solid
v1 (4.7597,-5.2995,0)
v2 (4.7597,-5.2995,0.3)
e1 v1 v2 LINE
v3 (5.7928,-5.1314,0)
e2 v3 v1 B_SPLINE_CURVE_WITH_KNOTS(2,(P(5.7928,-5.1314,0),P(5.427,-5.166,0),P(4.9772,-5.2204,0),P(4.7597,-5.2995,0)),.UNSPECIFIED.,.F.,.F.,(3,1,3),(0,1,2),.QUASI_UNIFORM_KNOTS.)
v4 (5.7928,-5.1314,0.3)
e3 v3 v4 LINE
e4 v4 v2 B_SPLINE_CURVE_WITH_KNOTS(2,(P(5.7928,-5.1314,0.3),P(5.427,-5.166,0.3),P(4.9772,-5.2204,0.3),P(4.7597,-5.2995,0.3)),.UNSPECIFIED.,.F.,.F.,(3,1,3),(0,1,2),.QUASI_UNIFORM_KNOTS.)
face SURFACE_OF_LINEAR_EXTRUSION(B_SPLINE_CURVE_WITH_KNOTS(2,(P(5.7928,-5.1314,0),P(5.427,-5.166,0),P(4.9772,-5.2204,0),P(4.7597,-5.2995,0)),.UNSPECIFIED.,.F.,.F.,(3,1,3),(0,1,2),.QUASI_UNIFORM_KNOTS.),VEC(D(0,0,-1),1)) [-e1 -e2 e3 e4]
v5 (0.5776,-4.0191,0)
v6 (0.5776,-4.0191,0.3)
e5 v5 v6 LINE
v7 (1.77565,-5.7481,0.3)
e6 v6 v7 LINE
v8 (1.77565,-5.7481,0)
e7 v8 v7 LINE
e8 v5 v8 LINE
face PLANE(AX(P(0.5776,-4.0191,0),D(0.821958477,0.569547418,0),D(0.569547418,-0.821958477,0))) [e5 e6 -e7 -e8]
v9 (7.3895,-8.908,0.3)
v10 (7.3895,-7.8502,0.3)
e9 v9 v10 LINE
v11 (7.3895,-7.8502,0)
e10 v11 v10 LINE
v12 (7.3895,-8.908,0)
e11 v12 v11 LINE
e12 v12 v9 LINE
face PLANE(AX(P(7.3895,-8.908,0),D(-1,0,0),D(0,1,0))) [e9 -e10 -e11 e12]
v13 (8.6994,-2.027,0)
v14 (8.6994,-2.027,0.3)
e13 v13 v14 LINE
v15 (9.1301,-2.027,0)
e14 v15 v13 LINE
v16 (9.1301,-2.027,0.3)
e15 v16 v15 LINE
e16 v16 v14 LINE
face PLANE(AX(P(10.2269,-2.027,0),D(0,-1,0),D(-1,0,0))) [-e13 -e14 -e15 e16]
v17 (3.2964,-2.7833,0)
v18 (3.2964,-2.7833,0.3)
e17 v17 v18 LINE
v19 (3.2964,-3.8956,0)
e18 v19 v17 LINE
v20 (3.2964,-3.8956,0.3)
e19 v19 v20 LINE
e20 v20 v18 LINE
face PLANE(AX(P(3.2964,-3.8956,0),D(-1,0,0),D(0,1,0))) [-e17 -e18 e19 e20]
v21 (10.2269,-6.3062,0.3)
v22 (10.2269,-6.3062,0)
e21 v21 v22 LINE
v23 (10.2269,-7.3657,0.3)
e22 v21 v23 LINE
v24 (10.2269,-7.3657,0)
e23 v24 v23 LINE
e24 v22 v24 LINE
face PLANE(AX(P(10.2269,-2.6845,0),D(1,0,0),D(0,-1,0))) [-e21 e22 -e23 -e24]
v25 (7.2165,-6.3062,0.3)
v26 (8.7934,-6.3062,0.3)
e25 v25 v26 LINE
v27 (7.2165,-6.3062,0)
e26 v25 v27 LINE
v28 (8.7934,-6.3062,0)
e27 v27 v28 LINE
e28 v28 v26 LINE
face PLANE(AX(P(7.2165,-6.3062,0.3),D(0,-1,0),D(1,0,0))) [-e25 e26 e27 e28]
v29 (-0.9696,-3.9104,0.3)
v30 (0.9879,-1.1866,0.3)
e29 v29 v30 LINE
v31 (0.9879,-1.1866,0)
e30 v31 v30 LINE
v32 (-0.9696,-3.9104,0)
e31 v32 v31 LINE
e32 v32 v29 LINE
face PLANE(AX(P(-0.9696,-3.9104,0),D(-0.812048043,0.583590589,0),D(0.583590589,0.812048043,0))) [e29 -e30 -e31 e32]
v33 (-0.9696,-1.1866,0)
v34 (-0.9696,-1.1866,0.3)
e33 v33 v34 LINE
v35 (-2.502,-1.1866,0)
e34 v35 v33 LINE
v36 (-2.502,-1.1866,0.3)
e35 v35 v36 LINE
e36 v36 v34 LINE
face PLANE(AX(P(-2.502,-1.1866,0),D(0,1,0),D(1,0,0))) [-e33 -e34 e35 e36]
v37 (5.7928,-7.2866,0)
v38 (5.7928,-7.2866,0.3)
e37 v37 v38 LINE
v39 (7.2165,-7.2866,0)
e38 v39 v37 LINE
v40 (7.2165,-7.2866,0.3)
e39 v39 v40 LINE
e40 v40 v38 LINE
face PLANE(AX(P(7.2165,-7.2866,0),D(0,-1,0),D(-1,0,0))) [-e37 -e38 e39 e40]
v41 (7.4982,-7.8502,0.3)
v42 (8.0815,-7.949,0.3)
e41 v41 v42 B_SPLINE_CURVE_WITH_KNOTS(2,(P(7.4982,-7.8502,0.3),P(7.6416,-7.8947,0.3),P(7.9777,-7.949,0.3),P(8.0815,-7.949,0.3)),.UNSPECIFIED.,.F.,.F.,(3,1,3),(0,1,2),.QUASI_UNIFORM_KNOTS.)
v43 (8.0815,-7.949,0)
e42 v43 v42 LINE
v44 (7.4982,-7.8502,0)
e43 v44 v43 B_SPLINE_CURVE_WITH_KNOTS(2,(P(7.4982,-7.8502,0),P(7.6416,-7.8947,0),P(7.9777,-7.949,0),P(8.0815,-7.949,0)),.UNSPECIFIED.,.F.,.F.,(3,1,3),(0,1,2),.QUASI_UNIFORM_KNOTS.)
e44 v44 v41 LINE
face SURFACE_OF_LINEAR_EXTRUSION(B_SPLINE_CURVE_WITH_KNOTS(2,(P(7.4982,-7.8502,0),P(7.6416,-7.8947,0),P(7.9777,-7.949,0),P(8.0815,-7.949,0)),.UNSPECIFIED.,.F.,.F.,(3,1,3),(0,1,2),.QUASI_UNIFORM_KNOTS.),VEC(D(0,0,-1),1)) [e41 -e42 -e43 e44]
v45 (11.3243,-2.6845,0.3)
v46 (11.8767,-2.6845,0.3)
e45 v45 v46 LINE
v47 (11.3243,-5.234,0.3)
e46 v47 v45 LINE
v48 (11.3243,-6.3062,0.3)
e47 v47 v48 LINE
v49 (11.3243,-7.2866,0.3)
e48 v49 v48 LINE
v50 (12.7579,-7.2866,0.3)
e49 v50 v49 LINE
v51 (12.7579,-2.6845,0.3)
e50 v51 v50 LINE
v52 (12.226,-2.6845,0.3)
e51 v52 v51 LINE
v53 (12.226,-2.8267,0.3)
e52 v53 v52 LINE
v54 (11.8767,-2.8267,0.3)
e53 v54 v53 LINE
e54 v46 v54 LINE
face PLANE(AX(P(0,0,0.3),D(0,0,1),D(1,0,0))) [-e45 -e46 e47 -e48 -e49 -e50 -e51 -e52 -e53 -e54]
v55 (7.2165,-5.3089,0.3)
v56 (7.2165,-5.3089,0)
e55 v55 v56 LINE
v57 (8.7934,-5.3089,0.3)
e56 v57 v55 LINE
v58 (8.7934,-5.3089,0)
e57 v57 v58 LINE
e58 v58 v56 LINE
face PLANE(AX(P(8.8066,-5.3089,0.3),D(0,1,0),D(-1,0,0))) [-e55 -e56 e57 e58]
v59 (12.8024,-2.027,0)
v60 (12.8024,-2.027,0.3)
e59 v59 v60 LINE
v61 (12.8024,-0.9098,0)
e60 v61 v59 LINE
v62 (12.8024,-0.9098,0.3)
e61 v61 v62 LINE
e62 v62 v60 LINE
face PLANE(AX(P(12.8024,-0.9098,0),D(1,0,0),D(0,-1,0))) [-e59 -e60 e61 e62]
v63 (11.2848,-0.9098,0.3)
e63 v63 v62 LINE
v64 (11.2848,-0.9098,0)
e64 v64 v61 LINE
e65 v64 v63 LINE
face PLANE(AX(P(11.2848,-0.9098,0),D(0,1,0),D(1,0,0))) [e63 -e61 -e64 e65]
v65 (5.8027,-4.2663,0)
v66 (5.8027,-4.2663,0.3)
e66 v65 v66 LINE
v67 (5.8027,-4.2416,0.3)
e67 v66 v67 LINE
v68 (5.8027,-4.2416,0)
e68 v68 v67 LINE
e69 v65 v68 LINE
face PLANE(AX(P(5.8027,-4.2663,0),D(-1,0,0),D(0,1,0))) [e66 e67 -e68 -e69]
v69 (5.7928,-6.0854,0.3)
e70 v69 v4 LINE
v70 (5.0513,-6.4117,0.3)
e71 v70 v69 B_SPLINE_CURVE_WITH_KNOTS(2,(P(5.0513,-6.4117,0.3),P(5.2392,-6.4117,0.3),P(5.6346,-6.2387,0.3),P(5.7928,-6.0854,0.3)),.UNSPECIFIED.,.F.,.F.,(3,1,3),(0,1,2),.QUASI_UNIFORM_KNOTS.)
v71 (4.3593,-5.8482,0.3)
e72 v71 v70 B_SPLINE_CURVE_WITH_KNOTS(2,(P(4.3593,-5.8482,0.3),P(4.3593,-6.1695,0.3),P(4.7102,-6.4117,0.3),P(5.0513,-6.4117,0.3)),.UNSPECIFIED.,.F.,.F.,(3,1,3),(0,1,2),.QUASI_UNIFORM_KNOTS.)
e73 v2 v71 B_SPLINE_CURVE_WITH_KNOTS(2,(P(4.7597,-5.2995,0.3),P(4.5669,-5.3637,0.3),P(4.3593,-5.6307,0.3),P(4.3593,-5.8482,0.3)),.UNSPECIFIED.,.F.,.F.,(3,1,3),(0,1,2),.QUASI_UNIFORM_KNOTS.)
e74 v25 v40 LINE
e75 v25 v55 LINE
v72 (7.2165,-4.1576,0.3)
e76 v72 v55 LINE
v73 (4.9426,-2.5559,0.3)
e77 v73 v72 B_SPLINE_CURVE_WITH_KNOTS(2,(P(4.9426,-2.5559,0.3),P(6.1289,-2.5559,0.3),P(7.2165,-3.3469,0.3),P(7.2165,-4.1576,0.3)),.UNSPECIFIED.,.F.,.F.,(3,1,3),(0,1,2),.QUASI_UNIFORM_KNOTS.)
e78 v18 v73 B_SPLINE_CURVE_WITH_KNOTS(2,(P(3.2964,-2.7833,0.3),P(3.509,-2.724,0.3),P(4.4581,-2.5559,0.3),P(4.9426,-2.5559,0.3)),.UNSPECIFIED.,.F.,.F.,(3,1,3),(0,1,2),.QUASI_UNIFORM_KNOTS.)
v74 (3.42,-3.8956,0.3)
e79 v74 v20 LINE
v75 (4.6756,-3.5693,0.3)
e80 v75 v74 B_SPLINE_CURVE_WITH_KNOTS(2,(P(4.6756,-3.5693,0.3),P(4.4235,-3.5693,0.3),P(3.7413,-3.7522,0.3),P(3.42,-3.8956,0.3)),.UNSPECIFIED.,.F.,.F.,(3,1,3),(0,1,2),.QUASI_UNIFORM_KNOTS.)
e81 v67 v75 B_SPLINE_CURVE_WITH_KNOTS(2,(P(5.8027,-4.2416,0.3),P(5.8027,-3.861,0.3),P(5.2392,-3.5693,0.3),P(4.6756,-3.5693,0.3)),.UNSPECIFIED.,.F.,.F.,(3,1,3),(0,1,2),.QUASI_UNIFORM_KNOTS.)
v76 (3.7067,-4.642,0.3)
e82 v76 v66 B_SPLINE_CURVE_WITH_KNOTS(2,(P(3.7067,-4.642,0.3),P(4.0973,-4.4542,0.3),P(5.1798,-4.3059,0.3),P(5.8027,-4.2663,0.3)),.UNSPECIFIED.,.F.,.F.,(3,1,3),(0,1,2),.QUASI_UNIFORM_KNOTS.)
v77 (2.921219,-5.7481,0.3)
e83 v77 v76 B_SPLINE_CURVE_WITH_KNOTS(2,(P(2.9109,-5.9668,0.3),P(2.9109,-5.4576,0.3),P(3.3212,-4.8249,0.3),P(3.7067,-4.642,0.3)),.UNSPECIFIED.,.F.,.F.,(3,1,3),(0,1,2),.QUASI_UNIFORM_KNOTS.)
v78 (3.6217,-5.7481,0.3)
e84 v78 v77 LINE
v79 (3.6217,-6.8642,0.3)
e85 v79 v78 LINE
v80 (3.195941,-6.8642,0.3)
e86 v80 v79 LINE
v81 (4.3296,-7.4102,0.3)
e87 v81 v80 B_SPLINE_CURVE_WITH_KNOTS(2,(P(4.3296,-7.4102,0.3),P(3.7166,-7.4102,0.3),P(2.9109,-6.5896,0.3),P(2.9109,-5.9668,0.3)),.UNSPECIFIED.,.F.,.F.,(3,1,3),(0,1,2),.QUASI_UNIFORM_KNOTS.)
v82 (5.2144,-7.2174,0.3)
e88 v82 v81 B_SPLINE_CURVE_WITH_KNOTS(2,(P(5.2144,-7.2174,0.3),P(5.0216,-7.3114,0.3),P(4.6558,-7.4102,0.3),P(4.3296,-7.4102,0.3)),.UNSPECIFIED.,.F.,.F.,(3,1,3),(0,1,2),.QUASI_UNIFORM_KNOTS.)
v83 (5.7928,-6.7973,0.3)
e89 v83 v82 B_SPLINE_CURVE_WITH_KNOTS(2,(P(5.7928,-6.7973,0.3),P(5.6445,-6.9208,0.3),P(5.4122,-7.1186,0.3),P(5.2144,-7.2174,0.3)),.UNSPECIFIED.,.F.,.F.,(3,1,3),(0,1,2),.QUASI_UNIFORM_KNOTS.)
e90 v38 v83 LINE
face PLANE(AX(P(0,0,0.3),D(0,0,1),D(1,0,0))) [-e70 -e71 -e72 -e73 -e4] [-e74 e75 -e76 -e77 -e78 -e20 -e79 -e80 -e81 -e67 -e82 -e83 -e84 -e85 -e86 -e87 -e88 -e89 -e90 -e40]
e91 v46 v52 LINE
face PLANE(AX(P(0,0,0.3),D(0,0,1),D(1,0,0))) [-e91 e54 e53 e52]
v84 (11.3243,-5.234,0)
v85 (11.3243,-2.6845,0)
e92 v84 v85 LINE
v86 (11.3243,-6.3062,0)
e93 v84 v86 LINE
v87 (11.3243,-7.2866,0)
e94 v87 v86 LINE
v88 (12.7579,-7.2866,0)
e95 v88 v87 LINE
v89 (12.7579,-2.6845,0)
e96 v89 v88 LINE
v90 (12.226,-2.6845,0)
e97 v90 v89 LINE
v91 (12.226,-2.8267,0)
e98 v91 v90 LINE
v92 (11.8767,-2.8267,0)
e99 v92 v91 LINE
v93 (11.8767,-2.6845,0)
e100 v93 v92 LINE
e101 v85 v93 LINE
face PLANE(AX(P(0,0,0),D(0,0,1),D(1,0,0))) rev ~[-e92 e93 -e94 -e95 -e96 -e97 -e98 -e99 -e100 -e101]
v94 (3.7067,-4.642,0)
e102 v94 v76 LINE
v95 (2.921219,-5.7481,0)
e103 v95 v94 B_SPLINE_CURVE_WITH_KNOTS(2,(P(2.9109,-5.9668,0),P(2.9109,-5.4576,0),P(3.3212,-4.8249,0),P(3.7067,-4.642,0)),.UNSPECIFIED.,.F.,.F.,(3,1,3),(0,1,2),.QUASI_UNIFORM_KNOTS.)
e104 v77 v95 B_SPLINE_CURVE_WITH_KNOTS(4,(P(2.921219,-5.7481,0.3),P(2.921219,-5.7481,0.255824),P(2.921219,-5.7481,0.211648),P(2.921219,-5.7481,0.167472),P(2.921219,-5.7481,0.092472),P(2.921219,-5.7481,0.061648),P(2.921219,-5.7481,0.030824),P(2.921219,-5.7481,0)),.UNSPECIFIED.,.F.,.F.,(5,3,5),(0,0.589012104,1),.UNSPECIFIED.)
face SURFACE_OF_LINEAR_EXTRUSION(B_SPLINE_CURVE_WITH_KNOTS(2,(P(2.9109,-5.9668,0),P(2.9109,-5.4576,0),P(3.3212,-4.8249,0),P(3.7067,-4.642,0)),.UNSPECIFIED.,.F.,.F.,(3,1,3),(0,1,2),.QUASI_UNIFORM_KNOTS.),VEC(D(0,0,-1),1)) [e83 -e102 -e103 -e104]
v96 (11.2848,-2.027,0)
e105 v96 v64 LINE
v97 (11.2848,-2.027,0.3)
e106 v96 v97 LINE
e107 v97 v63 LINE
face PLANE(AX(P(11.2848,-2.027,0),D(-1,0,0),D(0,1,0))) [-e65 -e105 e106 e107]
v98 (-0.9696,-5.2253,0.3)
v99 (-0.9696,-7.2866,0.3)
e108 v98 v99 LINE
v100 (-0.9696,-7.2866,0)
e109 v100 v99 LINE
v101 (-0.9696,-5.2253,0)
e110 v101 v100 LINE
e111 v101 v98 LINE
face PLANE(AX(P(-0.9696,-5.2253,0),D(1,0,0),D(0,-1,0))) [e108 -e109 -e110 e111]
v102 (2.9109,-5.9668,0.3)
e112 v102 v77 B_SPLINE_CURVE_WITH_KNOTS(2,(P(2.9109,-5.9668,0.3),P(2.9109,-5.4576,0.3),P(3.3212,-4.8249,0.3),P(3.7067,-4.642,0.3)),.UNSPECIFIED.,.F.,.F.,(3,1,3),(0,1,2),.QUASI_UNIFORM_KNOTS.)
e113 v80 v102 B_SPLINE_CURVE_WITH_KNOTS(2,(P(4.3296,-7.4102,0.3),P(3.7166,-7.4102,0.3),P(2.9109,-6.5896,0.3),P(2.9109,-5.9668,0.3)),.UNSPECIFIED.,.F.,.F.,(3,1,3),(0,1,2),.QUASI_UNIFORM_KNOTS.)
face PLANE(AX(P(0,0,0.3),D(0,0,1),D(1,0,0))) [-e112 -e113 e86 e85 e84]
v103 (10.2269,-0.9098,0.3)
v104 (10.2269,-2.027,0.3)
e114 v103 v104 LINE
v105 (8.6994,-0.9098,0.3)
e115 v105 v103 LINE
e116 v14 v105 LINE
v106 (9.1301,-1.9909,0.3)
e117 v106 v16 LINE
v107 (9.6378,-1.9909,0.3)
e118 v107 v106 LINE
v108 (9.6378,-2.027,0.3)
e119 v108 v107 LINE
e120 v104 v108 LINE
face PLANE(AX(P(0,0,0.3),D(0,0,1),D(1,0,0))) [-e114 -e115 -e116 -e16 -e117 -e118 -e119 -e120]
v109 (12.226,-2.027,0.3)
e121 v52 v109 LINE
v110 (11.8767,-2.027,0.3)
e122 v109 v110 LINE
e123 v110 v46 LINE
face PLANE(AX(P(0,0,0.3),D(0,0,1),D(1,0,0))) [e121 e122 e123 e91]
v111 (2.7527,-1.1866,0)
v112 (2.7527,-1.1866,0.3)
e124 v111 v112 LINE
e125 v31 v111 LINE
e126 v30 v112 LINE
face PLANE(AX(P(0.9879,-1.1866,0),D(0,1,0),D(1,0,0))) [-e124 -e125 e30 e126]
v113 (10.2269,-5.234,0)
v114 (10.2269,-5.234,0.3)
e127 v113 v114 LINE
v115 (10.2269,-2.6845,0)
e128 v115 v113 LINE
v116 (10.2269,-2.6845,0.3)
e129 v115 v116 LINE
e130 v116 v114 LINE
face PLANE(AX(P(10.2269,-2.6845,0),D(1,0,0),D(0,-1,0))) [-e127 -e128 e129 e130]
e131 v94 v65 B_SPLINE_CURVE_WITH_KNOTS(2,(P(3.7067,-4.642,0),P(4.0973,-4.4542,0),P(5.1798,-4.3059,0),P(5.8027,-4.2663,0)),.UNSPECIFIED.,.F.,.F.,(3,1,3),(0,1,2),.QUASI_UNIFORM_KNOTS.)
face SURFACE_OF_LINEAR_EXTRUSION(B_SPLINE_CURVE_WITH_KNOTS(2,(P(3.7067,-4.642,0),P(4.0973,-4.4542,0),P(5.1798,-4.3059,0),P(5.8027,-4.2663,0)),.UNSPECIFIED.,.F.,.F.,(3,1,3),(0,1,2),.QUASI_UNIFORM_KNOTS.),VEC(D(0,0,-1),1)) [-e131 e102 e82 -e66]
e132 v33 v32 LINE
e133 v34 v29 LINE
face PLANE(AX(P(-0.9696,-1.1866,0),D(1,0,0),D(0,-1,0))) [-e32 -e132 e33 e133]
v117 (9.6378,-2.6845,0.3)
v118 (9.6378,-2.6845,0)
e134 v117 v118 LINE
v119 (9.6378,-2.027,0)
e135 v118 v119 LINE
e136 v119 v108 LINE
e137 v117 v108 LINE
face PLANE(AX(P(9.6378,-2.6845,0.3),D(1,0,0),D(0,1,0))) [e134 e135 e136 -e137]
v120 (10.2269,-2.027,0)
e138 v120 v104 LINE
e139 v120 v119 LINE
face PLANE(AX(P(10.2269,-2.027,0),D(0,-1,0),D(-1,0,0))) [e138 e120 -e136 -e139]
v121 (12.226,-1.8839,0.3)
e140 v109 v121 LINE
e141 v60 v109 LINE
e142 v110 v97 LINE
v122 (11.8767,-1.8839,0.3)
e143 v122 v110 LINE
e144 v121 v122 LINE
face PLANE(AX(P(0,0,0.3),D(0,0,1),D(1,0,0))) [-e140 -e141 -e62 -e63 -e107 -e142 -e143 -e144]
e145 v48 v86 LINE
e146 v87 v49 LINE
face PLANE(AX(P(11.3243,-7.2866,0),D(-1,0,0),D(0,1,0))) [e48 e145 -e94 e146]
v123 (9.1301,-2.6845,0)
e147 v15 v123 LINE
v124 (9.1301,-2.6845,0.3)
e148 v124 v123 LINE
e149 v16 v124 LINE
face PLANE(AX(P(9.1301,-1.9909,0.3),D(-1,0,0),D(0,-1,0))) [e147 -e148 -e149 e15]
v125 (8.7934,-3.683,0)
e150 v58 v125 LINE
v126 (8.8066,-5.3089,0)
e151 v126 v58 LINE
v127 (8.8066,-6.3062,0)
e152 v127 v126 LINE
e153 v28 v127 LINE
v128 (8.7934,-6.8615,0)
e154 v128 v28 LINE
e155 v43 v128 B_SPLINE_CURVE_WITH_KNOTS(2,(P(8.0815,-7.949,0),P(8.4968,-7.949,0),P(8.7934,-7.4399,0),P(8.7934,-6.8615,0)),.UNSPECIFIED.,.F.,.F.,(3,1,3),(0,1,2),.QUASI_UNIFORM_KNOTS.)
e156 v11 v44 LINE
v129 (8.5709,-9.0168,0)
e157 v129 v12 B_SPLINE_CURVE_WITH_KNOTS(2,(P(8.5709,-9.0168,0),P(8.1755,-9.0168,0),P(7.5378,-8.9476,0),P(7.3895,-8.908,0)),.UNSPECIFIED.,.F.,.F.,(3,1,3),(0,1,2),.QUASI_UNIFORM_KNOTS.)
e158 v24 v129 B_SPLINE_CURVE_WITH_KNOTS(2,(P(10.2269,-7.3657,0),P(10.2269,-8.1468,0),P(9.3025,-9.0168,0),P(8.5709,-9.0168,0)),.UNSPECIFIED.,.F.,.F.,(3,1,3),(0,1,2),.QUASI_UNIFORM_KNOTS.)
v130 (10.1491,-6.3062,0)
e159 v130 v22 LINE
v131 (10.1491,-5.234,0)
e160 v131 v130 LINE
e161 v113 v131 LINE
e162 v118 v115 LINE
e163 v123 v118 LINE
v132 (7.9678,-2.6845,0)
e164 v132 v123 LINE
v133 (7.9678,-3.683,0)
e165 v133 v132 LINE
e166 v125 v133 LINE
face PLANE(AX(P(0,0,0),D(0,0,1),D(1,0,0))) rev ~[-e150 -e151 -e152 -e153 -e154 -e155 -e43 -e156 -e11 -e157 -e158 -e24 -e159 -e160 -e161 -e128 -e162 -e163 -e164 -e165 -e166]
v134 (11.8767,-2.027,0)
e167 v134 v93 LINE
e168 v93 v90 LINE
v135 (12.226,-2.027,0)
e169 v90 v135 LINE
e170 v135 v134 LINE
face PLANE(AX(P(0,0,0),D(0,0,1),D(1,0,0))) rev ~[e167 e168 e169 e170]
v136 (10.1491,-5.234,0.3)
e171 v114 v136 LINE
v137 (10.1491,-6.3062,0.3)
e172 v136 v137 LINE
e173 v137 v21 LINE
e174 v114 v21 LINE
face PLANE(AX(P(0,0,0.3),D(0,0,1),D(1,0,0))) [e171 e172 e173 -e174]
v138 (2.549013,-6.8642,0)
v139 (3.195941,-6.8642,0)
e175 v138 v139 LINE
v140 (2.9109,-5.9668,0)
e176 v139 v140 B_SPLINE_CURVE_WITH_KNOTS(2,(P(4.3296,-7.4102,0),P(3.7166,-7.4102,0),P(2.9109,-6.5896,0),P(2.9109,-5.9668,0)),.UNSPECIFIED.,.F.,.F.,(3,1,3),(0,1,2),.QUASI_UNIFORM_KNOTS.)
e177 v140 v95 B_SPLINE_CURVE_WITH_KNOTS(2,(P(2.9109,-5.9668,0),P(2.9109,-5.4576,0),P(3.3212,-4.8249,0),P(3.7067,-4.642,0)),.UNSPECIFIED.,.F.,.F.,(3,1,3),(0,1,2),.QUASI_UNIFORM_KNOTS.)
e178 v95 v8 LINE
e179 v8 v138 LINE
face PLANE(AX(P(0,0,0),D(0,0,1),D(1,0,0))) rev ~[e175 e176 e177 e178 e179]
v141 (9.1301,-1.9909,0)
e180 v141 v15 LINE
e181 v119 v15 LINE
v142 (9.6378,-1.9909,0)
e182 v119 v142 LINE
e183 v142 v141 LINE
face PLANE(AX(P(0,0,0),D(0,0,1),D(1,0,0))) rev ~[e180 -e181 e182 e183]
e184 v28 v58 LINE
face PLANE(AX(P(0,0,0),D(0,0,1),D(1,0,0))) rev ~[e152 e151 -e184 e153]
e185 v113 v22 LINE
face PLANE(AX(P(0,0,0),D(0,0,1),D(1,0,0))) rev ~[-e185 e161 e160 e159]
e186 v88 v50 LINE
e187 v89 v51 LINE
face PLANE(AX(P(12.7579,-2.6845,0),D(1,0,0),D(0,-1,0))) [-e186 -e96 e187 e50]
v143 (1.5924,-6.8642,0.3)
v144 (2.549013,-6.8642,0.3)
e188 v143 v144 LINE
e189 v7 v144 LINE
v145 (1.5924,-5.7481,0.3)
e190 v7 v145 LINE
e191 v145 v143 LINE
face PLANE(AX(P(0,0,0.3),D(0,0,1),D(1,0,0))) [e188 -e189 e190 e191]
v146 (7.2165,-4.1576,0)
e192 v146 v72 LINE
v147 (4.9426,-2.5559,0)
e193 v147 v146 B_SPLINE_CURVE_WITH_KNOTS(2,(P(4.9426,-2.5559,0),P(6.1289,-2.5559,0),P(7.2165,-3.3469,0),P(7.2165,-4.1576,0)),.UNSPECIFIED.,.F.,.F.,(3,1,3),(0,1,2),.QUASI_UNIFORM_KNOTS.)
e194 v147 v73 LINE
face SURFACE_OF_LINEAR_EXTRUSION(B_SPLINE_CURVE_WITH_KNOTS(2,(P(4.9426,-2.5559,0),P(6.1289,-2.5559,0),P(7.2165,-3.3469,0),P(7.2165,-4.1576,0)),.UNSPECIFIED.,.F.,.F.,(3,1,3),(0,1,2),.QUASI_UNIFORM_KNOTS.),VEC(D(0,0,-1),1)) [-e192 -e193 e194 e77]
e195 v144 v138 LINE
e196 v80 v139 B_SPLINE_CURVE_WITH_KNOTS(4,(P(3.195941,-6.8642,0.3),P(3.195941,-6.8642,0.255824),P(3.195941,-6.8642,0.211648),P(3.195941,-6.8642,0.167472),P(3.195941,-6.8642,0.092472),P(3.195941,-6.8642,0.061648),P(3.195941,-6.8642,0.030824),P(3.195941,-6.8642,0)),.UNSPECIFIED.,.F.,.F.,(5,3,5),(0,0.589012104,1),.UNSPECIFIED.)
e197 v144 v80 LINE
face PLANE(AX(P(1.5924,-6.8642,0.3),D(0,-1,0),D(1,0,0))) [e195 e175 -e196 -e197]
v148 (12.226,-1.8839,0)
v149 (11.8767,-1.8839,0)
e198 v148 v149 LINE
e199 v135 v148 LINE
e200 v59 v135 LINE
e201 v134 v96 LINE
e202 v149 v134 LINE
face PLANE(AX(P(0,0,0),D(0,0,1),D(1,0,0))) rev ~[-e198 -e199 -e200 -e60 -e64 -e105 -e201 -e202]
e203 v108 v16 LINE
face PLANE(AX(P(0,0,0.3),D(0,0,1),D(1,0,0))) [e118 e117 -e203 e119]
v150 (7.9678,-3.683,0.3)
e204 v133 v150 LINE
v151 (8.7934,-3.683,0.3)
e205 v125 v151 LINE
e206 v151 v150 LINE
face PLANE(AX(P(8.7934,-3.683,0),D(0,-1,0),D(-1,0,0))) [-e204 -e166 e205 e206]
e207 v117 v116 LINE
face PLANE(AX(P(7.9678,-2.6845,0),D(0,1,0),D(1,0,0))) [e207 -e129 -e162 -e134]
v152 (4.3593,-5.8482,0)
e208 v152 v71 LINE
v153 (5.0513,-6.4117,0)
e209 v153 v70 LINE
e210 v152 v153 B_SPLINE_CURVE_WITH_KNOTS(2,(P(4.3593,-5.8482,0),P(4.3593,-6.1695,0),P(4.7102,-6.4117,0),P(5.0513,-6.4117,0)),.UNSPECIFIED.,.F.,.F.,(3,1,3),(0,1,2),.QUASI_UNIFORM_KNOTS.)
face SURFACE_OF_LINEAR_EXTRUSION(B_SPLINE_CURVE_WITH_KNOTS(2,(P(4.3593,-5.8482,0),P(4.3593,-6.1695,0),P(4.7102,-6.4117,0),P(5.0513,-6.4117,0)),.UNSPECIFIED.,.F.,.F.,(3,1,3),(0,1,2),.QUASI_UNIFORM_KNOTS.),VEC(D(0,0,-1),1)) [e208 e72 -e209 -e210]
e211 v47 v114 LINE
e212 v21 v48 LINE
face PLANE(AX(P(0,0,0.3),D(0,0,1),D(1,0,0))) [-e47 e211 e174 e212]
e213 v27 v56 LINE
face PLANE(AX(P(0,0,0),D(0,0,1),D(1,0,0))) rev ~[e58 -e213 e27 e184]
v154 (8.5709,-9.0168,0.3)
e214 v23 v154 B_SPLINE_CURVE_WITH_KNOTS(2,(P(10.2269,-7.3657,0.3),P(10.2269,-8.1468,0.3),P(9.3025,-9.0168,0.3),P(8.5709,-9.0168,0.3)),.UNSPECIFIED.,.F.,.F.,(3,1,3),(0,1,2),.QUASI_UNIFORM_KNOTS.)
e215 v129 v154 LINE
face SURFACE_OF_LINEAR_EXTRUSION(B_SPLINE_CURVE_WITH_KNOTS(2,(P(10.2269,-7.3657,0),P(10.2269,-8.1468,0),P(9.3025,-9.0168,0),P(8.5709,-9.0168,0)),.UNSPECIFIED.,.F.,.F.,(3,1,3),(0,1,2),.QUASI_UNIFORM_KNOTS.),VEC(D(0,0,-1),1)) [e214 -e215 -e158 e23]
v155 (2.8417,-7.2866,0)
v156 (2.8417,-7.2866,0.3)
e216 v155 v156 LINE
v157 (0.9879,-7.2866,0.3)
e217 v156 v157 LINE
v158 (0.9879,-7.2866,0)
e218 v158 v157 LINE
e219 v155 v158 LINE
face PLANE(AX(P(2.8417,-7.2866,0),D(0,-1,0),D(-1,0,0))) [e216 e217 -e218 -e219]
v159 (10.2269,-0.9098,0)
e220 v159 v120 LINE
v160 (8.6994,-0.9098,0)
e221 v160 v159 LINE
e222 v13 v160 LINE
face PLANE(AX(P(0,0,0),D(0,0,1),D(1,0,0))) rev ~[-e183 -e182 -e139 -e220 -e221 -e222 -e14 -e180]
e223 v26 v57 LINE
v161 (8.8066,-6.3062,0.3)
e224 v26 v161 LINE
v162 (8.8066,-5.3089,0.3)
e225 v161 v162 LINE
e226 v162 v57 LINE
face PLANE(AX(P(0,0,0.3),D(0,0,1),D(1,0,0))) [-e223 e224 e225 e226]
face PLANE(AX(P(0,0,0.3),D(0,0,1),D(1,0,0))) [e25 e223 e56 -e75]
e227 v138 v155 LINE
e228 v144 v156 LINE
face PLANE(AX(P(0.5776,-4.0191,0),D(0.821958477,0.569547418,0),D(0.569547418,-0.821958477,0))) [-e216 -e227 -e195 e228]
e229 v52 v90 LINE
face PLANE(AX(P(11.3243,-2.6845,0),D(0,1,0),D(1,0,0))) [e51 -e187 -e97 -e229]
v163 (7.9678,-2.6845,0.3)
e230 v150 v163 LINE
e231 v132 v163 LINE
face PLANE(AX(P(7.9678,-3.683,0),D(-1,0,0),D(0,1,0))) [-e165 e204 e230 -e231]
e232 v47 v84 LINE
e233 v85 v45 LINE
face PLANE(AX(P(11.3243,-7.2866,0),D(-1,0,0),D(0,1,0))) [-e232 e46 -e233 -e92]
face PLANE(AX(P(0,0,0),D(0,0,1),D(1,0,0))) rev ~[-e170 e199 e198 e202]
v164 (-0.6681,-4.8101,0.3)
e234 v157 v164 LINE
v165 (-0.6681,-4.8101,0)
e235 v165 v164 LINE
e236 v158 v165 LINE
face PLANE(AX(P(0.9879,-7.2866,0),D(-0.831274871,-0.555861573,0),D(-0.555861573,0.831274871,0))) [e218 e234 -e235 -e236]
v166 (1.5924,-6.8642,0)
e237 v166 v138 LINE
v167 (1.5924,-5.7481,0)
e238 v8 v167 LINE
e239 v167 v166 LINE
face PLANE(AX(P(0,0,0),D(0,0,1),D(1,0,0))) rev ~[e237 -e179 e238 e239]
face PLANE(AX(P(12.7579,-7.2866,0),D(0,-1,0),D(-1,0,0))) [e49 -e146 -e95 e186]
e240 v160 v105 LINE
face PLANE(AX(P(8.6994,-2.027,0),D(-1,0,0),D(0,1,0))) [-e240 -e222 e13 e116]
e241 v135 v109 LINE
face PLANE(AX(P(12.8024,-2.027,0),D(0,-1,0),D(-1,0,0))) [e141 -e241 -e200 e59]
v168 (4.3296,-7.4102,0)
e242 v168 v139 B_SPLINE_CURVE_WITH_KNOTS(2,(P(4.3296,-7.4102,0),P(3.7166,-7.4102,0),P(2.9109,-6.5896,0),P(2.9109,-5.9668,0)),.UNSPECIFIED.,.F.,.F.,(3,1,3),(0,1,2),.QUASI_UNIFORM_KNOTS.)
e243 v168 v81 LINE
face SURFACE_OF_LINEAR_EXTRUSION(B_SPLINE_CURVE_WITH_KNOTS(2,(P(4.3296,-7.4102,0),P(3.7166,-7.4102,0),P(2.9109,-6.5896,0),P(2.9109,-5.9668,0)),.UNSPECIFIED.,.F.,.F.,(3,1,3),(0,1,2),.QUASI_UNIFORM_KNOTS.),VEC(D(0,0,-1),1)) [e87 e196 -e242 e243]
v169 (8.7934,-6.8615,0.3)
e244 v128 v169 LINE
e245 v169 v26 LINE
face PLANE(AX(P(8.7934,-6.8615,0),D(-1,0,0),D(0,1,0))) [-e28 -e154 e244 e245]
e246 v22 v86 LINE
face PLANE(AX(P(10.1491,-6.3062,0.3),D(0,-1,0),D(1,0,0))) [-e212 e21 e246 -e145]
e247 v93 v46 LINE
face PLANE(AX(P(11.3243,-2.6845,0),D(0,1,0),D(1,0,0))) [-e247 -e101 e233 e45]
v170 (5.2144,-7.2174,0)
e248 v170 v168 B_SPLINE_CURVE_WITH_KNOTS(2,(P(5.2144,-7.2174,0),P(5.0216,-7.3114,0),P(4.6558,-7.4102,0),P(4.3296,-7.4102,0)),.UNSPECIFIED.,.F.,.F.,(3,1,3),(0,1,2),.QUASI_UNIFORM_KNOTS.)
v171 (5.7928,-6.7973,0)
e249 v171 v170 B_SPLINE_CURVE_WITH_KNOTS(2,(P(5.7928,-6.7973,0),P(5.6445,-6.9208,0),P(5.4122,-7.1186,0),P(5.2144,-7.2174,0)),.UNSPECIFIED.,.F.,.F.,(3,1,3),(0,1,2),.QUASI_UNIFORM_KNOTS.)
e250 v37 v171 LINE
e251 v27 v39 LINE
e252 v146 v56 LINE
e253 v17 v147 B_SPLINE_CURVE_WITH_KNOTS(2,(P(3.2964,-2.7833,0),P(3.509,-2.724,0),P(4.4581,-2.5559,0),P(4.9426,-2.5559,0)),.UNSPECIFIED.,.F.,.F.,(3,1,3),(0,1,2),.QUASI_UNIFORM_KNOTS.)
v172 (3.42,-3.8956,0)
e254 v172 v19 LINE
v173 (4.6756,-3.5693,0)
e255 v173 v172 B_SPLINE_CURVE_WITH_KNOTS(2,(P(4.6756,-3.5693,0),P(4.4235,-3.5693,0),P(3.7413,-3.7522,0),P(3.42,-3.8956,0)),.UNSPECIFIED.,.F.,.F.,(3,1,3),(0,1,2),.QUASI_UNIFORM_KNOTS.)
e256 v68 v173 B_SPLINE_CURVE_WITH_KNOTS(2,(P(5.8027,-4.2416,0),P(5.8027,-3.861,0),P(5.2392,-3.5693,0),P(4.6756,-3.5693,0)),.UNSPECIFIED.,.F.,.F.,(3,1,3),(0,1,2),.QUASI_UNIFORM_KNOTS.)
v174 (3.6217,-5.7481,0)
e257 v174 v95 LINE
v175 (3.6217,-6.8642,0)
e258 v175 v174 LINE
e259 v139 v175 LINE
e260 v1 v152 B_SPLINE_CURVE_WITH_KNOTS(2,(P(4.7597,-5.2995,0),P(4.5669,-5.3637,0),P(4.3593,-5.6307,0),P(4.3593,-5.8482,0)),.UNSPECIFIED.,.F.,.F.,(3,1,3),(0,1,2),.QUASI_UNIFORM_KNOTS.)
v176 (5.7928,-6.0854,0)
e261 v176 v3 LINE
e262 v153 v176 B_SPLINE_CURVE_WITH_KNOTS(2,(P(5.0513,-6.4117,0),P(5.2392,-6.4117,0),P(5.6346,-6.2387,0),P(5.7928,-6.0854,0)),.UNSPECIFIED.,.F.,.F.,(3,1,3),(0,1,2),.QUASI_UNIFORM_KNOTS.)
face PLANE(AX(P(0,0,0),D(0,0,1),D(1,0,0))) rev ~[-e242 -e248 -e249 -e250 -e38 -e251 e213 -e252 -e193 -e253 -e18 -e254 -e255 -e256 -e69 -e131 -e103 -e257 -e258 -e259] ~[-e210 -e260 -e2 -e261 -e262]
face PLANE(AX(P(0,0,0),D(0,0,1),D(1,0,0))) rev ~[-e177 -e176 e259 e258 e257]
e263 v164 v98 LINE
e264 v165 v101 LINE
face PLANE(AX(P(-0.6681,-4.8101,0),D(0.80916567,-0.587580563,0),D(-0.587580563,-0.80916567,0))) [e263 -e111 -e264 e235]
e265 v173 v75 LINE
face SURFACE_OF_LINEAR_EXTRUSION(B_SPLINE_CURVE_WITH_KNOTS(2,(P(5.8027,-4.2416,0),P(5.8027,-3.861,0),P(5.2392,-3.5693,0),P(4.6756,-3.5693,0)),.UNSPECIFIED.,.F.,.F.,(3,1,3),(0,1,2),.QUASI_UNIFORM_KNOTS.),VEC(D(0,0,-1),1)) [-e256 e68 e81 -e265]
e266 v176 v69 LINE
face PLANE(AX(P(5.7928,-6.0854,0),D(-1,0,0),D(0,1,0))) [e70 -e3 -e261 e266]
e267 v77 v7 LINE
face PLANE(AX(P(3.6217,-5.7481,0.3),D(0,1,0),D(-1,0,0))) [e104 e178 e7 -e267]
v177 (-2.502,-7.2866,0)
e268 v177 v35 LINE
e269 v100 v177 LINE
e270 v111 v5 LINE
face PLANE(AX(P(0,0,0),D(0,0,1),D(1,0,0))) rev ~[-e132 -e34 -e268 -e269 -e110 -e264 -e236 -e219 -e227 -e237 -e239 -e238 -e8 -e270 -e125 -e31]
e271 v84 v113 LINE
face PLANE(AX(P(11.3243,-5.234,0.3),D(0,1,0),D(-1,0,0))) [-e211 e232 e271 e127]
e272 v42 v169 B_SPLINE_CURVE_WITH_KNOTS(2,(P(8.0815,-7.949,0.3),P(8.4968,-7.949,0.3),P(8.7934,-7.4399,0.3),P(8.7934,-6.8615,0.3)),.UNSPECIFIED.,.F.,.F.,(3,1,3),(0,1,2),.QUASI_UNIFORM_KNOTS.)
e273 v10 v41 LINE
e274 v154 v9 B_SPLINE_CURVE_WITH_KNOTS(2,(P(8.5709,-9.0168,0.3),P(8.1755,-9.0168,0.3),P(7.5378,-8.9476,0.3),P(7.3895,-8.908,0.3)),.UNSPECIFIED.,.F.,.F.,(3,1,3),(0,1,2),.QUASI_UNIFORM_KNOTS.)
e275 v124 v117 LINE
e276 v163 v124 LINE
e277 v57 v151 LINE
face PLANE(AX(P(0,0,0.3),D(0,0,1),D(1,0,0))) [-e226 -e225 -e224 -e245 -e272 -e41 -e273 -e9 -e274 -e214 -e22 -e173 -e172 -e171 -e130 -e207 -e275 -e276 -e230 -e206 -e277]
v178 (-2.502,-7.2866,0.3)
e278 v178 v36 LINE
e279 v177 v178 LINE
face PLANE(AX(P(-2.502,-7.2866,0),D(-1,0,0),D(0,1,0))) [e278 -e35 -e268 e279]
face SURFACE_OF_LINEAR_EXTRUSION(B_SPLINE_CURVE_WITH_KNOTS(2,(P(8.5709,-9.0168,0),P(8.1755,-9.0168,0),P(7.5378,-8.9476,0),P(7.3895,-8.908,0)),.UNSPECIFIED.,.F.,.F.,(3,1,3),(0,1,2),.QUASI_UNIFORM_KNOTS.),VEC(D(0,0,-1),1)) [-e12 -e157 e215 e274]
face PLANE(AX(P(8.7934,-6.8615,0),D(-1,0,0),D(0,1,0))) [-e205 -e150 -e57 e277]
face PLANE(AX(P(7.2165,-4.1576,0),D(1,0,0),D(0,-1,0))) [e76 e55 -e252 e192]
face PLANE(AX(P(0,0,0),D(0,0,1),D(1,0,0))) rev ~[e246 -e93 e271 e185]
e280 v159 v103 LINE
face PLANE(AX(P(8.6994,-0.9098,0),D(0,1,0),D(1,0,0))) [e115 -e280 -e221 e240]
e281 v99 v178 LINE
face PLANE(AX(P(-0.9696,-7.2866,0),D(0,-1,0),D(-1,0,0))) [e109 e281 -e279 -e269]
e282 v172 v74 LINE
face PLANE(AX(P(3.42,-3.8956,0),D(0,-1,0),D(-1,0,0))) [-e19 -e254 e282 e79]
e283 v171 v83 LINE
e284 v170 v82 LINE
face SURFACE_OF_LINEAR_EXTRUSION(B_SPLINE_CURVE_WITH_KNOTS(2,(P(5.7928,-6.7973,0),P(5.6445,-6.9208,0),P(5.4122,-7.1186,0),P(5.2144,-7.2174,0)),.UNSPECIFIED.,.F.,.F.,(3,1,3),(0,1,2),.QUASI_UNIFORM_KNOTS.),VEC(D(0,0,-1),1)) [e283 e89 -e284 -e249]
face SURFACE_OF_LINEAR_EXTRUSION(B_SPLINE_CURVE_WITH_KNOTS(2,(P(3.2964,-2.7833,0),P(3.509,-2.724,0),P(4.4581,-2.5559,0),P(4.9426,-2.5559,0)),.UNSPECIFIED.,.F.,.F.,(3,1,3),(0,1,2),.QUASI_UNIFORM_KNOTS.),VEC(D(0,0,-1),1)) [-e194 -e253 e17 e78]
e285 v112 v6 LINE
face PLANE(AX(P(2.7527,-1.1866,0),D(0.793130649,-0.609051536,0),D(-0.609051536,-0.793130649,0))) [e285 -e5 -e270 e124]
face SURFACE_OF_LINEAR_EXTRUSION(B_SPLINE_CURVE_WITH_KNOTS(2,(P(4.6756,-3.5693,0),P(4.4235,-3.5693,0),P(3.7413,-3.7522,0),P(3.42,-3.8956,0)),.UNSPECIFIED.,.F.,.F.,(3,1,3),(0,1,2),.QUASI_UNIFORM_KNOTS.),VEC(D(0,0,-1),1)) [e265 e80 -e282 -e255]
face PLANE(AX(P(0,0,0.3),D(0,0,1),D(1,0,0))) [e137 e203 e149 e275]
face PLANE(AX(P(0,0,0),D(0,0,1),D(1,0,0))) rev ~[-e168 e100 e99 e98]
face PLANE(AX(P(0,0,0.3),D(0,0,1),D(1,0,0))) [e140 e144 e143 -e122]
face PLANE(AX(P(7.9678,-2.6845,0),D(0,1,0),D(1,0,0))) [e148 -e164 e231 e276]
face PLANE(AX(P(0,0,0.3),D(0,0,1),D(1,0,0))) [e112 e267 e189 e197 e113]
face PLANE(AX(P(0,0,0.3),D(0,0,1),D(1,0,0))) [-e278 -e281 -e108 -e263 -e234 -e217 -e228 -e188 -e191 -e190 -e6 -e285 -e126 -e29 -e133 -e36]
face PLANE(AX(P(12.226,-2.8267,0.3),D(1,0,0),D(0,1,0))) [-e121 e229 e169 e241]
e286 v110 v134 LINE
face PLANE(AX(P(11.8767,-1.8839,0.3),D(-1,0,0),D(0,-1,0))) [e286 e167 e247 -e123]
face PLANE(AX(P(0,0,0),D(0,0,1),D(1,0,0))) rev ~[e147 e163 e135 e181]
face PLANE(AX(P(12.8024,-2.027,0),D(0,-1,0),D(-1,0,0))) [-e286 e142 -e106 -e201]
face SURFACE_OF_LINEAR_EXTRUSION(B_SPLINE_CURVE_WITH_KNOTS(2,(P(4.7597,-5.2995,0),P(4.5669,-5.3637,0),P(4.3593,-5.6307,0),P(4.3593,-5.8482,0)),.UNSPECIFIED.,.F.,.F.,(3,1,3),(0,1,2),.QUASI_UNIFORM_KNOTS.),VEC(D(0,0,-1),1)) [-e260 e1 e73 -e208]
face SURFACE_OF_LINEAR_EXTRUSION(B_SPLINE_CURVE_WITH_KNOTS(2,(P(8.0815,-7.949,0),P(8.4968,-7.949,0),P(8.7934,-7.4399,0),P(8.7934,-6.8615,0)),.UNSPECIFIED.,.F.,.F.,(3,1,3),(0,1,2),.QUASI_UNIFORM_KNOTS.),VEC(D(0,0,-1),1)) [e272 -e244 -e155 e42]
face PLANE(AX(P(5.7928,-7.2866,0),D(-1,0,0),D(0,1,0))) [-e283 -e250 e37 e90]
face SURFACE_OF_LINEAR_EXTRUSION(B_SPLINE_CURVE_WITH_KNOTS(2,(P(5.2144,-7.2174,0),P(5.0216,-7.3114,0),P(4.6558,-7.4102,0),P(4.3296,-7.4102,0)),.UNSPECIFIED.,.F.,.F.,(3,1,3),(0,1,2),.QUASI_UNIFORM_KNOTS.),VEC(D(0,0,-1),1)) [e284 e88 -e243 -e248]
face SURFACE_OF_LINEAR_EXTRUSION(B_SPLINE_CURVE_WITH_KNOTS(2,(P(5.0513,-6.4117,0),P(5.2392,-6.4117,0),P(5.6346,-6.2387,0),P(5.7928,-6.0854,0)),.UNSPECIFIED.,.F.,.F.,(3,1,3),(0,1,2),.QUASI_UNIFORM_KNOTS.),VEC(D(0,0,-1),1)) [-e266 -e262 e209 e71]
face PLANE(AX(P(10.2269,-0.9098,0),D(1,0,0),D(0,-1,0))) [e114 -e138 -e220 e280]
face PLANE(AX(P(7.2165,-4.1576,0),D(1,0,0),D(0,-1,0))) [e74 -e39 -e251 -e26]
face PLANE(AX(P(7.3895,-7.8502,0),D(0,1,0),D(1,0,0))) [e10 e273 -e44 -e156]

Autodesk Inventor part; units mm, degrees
ref_plane "YZ Plane" through (0, 0, 0) normal (1, 0, 0) x (0, 1, 0)
ref_plane "XZ Plane" through (0, 0, 0) normal (0, 1, 0) x (-1, 0, 0)
sketch "スケッチ1" plane through (0, 0, 0) normal (0, 0, 1) x (1, 0, 0)
  line L0 (-3.1348, -0.9098) -> (10.2725, -0.9098) construction
  line L1 (10.2725, -0.9098) -> (10.2725, -4.9582) construction
  line L2 (10.2725, -4.9582) -> (-3.1348, -4.9582) construction
  line L3 (-3.1348, -4.9582) -> (-3.1348, -0.9098) construction
  line L4 (2.8417, -7.2866) -> (0.9879, -7.2866)
  line L5 (0.9879, -7.2866) -> (-0.6681, -4.8101)
  line L6 (-0.6681, -4.8101) -> (-0.9696, -5.2253)
  line L7 (-0.9696, -5.2253) -> (-0.9696, -7.2866)
  line L8 (-0.9696, -7.2866) -> (-2.502, -7.2866)
  line L9 (-2.502, -7.2866) -> (-2.502, -1.1866)
  line L10 (-2.502, -1.1866) -> (-0.9696, -1.1866)
  line L11 (-0.9696, -1.1866) -> (-0.9696, -3.9104)
  line L12 (-0.9696, -3.9104) -> (0.9879, -1.1866)
  line L13 (0.9879, -1.1866) -> (2.7527, -1.1866)
  line L14 (2.7527, -1.1866) -> (0.5776, -4.0191)
  line L15 (0.5776, -4.0191) -> (2.8417, -7.2866)
  spline S0 degree 2 poles (5.7928, -6.7973) (5.6445, -6.9208) (5.4122, -7.1186) (5.2144, -7.2174) knots 0 0 0 1 2 2 2
  spline S1 degree 2 poles (5.2144, -7.2174) (5.0216, -7.3114) (4.6558, -7.4102) (4.3296, -7.4102) knots 0 0 0 1 2 2 2
  spline S2 degree 2 poles (4.3296, -7.4102) (3.7166, -7.4102) (2.9109, -6.5896) (2.9109, -5.9668) knots 0 0 0 1 2 2 2
  spline S3 degree 2 poles (2.9109, -5.9668) (2.9109, -5.4576) (3.3212, -4.8249) (3.7067, -4.642) knots 0 0 0 1 2 2 2
  spline S4 degree 2 poles (3.7067, -4.642) (4.0973, -4.4542) (5.1798, -4.3059) (5.8027, -4.2663) knots 0 0 0 1 2 2 2
  line L16 (5.8027, -4.2663) -> (5.8027, -4.2416)
  spline S5 degree 2 poles (5.8027, -4.2416) (5.8027, -3.861) (5.2392, -3.5693) (4.6756, -3.5693) knots 0 0 0 1 2 2 2
  spline S6 degree 2 poles (4.6756, -3.5693) (4.4235, -3.5693) (3.7413, -3.7522) (3.42, -3.8956) knots 0 0 0 1 2 2 2
  line L17 (3.42, -3.8956) -> (3.2964, -3.8956)
  line L18 (3.2964, -3.8956) -> (3.2964, -2.7833)
  spline S7 degree 2 poles (3.2964, -2.7833) (3.509, -2.724) (4.4581, -2.5559) (4.9426, -2.5559) knots 0 0 0 1 2 2 2
  spline S8 degree 2 poles (4.9426, -2.5559) (6.1289, -2.5559) (7.2165, -3.3469) (7.2165, -4.1576) knots 0 0 0 1 2 2 2
  line L19 (7.2165, -4.1576) -> (7.2165, -7.2866)
  line L20 (7.2165, -7.2866) -> (5.7928, -7.2866)
  line L21 (5.7928, -7.2866) -> (5.7928, -6.7973)
  line L22 (5.7928, -6.0854) -> (5.7928, -5.1314)
  spline S9 degree 2 poles (5.7928, -5.1314) (5.427, -5.166) (4.9772, -5.2204) (4.7597, -5.2995) knots 0 0 0 1 2 2 2
  spline S10 degree 2 poles (4.7597, -5.2995) (4.5669, -5.3637) (4.3593, -5.6307) (4.3593, -5.8482) knots 0 0 0 1 2 2 2
  spline S11 degree 2 poles (4.3593, -5.8482) (4.3593, -6.1695) (4.7102, -6.4117) (5.0513, -6.4117) knots 0 0 0 1 2 2 2
  spline S12 degree 2 poles (5.0513, -6.4117) (5.2392, -6.4117) (5.6346, -6.2387) (5.7928, -6.0854) knots 0 0 0 1 2 2 2
  spline S13 degree 2 poles (10.2269, -7.3657) (10.2269, -8.1468) (9.3025, -9.0168) (8.5709, -9.0168) knots 0 0 0 1 2 2 2
  spline S14 degree 2 poles (8.5709, -9.0168) (8.1755, -9.0168) (7.5378, -8.9476) (7.3895, -8.908) knots 0 0 0 1 2 2 2
  line L23 (7.3895, -8.908) -> (7.3895, -7.8502)
  line L24 (7.3895, -7.8502) -> (7.4982, -7.8502)
  spline S15 degree 2 poles (7.4982, -7.8502) (7.6416, -7.8947) (7.9777, -7.949) (8.0815, -7.949) knots 0 0 0 1 2 2 2
  spline S16 degree 2 poles (8.0815, -7.949) (8.4968, -7.949) (8.7934, -7.4399) (8.7934, -6.8615) knots 0 0 0 1 2 2 2
  line L25 (8.7934, -6.8615) -> (8.7934, -3.683)
  line L26 (8.7934, -3.683) -> (7.9678, -3.683)
  line L27 (7.9678, -3.683) -> (7.9678, -2.6845)
  line L28 (7.9678, -2.6845) -> (10.2269, -2.6845)
  line L29 (10.2269, -2.6845) -> (10.2269, -7.3657)
  line L30 (10.2269, -2.027) -> (8.6994, -2.027)
  line L31 (8.6994, -2.027) -> (8.6994, -0.9098)
  line L32 (8.6994, -0.9098) -> (10.2269, -0.9098)
  line L33 (10.2269, -0.9098) -> (10.2269, -2.027)
  line L34 (12.7579, -7.2866) -> (11.3243, -7.2866)
  line L35 (11.3243, -7.2866) -> (11.3243, -2.6845)
  line L36 (11.3243, -2.6845) -> (12.7579, -2.6845)
  line L37 (12.7579, -2.6845) -> (12.7579, -7.2866)
  line L38 (12.8024, -2.027) -> (11.2848, -2.027)
  line L39 (11.2848, -2.027) -> (11.2848, -0.9098)
  line L40 (11.2848, -0.9098) -> (12.8024, -0.9098)
  line L41 (12.8024, -0.9098) -> (12.8024, -2.027)
  point P0 (0, 0)
extrude "押し出し1" add sketch "スケッチ1" along normal blind 0.3
ref_plane "作業平面1" through (0, 0, 0.3) normal (0, 0, 1) x (1, 0, 0)
sketch "スケッチ4" plane through (0, 0, 0.3) normal (0, 0, 1) x (1, 0, 0)
  line L0 (12.7579, -7.2866) -> (12.7579, -2.6845) projected
  line L1 (-2.502, -1.1866) -> (-2.502, -7.2866) projected
  line L2 (1.5924, -6.8642) -> (3.6217, -6.8642)
  line L3 (3.6217, -6.8642) -> (3.6217, -5.7481)
  line L4 (3.6217, -5.7481) -> (1.5924, -5.7481)
  line L5 (1.5924, -5.7481) -> (1.5924, -6.8642)
  line L6 (7.2165, -7.2866) -> (7.2165, -4.1576) projected
  line L7 (7.2165, -6.3062) -> (8.8066, -6.3062)
  line L8 (8.8066, -6.3062) -> (8.8066, -5.3089)
  line L9 (8.8066, -5.3089) -> (7.2165, -5.3089)
  line L10 (7.2165, -5.3089) -> (7.2165, -6.3062)
  line L11 (11.3243, -2.6845) -> (11.3243, -7.2866) projected
  line L12 (10.1491, -6.3062) -> (11.3243, -6.3062)
  line L13 (11.3243, -6.3062) -> (11.3243, -5.234)
  line L14 (11.3243, -5.234) -> (10.1491, -5.234)
  line L15 (10.1491, -5.234) -> (10.1491, -6.3062)
  line L16 (9.1301, -2.6845) -> (9.6378, -2.6845)
  line L17 (9.6378, -2.6845) -> (9.6378, -1.9909)
  line L18 (9.6378, -1.9909) -> (9.1301, -1.9909)
  line L19 (9.1301, -1.9909) -> (9.1301, -2.6845)
  line L20 (11.8767, -2.8267) -> (12.226, -2.8267)
  line L21 (12.226, -2.8267) -> (12.226, -1.8839)
  line L22 (12.226, -1.8839) -> (11.8767, -1.8839)
  line L23 (11.8767, -1.8839) -> (11.8767, -2.8267)
  point P0 (0, 0)
  dimension "d6" = 15.2599
extrude "押し出し3" add sketch "スケッチ4" against normal blind 0.3 contours L5 L4 L3 L2 | L6 L9 L8 L7 | L11 L12 L15 L14
extrude "押し出し4" add sketch "スケッチ4" against normal blind 0.3 contours L19 L18 L17 L16 | L23 L22 L21 L20
properties part number "photon_sample"
